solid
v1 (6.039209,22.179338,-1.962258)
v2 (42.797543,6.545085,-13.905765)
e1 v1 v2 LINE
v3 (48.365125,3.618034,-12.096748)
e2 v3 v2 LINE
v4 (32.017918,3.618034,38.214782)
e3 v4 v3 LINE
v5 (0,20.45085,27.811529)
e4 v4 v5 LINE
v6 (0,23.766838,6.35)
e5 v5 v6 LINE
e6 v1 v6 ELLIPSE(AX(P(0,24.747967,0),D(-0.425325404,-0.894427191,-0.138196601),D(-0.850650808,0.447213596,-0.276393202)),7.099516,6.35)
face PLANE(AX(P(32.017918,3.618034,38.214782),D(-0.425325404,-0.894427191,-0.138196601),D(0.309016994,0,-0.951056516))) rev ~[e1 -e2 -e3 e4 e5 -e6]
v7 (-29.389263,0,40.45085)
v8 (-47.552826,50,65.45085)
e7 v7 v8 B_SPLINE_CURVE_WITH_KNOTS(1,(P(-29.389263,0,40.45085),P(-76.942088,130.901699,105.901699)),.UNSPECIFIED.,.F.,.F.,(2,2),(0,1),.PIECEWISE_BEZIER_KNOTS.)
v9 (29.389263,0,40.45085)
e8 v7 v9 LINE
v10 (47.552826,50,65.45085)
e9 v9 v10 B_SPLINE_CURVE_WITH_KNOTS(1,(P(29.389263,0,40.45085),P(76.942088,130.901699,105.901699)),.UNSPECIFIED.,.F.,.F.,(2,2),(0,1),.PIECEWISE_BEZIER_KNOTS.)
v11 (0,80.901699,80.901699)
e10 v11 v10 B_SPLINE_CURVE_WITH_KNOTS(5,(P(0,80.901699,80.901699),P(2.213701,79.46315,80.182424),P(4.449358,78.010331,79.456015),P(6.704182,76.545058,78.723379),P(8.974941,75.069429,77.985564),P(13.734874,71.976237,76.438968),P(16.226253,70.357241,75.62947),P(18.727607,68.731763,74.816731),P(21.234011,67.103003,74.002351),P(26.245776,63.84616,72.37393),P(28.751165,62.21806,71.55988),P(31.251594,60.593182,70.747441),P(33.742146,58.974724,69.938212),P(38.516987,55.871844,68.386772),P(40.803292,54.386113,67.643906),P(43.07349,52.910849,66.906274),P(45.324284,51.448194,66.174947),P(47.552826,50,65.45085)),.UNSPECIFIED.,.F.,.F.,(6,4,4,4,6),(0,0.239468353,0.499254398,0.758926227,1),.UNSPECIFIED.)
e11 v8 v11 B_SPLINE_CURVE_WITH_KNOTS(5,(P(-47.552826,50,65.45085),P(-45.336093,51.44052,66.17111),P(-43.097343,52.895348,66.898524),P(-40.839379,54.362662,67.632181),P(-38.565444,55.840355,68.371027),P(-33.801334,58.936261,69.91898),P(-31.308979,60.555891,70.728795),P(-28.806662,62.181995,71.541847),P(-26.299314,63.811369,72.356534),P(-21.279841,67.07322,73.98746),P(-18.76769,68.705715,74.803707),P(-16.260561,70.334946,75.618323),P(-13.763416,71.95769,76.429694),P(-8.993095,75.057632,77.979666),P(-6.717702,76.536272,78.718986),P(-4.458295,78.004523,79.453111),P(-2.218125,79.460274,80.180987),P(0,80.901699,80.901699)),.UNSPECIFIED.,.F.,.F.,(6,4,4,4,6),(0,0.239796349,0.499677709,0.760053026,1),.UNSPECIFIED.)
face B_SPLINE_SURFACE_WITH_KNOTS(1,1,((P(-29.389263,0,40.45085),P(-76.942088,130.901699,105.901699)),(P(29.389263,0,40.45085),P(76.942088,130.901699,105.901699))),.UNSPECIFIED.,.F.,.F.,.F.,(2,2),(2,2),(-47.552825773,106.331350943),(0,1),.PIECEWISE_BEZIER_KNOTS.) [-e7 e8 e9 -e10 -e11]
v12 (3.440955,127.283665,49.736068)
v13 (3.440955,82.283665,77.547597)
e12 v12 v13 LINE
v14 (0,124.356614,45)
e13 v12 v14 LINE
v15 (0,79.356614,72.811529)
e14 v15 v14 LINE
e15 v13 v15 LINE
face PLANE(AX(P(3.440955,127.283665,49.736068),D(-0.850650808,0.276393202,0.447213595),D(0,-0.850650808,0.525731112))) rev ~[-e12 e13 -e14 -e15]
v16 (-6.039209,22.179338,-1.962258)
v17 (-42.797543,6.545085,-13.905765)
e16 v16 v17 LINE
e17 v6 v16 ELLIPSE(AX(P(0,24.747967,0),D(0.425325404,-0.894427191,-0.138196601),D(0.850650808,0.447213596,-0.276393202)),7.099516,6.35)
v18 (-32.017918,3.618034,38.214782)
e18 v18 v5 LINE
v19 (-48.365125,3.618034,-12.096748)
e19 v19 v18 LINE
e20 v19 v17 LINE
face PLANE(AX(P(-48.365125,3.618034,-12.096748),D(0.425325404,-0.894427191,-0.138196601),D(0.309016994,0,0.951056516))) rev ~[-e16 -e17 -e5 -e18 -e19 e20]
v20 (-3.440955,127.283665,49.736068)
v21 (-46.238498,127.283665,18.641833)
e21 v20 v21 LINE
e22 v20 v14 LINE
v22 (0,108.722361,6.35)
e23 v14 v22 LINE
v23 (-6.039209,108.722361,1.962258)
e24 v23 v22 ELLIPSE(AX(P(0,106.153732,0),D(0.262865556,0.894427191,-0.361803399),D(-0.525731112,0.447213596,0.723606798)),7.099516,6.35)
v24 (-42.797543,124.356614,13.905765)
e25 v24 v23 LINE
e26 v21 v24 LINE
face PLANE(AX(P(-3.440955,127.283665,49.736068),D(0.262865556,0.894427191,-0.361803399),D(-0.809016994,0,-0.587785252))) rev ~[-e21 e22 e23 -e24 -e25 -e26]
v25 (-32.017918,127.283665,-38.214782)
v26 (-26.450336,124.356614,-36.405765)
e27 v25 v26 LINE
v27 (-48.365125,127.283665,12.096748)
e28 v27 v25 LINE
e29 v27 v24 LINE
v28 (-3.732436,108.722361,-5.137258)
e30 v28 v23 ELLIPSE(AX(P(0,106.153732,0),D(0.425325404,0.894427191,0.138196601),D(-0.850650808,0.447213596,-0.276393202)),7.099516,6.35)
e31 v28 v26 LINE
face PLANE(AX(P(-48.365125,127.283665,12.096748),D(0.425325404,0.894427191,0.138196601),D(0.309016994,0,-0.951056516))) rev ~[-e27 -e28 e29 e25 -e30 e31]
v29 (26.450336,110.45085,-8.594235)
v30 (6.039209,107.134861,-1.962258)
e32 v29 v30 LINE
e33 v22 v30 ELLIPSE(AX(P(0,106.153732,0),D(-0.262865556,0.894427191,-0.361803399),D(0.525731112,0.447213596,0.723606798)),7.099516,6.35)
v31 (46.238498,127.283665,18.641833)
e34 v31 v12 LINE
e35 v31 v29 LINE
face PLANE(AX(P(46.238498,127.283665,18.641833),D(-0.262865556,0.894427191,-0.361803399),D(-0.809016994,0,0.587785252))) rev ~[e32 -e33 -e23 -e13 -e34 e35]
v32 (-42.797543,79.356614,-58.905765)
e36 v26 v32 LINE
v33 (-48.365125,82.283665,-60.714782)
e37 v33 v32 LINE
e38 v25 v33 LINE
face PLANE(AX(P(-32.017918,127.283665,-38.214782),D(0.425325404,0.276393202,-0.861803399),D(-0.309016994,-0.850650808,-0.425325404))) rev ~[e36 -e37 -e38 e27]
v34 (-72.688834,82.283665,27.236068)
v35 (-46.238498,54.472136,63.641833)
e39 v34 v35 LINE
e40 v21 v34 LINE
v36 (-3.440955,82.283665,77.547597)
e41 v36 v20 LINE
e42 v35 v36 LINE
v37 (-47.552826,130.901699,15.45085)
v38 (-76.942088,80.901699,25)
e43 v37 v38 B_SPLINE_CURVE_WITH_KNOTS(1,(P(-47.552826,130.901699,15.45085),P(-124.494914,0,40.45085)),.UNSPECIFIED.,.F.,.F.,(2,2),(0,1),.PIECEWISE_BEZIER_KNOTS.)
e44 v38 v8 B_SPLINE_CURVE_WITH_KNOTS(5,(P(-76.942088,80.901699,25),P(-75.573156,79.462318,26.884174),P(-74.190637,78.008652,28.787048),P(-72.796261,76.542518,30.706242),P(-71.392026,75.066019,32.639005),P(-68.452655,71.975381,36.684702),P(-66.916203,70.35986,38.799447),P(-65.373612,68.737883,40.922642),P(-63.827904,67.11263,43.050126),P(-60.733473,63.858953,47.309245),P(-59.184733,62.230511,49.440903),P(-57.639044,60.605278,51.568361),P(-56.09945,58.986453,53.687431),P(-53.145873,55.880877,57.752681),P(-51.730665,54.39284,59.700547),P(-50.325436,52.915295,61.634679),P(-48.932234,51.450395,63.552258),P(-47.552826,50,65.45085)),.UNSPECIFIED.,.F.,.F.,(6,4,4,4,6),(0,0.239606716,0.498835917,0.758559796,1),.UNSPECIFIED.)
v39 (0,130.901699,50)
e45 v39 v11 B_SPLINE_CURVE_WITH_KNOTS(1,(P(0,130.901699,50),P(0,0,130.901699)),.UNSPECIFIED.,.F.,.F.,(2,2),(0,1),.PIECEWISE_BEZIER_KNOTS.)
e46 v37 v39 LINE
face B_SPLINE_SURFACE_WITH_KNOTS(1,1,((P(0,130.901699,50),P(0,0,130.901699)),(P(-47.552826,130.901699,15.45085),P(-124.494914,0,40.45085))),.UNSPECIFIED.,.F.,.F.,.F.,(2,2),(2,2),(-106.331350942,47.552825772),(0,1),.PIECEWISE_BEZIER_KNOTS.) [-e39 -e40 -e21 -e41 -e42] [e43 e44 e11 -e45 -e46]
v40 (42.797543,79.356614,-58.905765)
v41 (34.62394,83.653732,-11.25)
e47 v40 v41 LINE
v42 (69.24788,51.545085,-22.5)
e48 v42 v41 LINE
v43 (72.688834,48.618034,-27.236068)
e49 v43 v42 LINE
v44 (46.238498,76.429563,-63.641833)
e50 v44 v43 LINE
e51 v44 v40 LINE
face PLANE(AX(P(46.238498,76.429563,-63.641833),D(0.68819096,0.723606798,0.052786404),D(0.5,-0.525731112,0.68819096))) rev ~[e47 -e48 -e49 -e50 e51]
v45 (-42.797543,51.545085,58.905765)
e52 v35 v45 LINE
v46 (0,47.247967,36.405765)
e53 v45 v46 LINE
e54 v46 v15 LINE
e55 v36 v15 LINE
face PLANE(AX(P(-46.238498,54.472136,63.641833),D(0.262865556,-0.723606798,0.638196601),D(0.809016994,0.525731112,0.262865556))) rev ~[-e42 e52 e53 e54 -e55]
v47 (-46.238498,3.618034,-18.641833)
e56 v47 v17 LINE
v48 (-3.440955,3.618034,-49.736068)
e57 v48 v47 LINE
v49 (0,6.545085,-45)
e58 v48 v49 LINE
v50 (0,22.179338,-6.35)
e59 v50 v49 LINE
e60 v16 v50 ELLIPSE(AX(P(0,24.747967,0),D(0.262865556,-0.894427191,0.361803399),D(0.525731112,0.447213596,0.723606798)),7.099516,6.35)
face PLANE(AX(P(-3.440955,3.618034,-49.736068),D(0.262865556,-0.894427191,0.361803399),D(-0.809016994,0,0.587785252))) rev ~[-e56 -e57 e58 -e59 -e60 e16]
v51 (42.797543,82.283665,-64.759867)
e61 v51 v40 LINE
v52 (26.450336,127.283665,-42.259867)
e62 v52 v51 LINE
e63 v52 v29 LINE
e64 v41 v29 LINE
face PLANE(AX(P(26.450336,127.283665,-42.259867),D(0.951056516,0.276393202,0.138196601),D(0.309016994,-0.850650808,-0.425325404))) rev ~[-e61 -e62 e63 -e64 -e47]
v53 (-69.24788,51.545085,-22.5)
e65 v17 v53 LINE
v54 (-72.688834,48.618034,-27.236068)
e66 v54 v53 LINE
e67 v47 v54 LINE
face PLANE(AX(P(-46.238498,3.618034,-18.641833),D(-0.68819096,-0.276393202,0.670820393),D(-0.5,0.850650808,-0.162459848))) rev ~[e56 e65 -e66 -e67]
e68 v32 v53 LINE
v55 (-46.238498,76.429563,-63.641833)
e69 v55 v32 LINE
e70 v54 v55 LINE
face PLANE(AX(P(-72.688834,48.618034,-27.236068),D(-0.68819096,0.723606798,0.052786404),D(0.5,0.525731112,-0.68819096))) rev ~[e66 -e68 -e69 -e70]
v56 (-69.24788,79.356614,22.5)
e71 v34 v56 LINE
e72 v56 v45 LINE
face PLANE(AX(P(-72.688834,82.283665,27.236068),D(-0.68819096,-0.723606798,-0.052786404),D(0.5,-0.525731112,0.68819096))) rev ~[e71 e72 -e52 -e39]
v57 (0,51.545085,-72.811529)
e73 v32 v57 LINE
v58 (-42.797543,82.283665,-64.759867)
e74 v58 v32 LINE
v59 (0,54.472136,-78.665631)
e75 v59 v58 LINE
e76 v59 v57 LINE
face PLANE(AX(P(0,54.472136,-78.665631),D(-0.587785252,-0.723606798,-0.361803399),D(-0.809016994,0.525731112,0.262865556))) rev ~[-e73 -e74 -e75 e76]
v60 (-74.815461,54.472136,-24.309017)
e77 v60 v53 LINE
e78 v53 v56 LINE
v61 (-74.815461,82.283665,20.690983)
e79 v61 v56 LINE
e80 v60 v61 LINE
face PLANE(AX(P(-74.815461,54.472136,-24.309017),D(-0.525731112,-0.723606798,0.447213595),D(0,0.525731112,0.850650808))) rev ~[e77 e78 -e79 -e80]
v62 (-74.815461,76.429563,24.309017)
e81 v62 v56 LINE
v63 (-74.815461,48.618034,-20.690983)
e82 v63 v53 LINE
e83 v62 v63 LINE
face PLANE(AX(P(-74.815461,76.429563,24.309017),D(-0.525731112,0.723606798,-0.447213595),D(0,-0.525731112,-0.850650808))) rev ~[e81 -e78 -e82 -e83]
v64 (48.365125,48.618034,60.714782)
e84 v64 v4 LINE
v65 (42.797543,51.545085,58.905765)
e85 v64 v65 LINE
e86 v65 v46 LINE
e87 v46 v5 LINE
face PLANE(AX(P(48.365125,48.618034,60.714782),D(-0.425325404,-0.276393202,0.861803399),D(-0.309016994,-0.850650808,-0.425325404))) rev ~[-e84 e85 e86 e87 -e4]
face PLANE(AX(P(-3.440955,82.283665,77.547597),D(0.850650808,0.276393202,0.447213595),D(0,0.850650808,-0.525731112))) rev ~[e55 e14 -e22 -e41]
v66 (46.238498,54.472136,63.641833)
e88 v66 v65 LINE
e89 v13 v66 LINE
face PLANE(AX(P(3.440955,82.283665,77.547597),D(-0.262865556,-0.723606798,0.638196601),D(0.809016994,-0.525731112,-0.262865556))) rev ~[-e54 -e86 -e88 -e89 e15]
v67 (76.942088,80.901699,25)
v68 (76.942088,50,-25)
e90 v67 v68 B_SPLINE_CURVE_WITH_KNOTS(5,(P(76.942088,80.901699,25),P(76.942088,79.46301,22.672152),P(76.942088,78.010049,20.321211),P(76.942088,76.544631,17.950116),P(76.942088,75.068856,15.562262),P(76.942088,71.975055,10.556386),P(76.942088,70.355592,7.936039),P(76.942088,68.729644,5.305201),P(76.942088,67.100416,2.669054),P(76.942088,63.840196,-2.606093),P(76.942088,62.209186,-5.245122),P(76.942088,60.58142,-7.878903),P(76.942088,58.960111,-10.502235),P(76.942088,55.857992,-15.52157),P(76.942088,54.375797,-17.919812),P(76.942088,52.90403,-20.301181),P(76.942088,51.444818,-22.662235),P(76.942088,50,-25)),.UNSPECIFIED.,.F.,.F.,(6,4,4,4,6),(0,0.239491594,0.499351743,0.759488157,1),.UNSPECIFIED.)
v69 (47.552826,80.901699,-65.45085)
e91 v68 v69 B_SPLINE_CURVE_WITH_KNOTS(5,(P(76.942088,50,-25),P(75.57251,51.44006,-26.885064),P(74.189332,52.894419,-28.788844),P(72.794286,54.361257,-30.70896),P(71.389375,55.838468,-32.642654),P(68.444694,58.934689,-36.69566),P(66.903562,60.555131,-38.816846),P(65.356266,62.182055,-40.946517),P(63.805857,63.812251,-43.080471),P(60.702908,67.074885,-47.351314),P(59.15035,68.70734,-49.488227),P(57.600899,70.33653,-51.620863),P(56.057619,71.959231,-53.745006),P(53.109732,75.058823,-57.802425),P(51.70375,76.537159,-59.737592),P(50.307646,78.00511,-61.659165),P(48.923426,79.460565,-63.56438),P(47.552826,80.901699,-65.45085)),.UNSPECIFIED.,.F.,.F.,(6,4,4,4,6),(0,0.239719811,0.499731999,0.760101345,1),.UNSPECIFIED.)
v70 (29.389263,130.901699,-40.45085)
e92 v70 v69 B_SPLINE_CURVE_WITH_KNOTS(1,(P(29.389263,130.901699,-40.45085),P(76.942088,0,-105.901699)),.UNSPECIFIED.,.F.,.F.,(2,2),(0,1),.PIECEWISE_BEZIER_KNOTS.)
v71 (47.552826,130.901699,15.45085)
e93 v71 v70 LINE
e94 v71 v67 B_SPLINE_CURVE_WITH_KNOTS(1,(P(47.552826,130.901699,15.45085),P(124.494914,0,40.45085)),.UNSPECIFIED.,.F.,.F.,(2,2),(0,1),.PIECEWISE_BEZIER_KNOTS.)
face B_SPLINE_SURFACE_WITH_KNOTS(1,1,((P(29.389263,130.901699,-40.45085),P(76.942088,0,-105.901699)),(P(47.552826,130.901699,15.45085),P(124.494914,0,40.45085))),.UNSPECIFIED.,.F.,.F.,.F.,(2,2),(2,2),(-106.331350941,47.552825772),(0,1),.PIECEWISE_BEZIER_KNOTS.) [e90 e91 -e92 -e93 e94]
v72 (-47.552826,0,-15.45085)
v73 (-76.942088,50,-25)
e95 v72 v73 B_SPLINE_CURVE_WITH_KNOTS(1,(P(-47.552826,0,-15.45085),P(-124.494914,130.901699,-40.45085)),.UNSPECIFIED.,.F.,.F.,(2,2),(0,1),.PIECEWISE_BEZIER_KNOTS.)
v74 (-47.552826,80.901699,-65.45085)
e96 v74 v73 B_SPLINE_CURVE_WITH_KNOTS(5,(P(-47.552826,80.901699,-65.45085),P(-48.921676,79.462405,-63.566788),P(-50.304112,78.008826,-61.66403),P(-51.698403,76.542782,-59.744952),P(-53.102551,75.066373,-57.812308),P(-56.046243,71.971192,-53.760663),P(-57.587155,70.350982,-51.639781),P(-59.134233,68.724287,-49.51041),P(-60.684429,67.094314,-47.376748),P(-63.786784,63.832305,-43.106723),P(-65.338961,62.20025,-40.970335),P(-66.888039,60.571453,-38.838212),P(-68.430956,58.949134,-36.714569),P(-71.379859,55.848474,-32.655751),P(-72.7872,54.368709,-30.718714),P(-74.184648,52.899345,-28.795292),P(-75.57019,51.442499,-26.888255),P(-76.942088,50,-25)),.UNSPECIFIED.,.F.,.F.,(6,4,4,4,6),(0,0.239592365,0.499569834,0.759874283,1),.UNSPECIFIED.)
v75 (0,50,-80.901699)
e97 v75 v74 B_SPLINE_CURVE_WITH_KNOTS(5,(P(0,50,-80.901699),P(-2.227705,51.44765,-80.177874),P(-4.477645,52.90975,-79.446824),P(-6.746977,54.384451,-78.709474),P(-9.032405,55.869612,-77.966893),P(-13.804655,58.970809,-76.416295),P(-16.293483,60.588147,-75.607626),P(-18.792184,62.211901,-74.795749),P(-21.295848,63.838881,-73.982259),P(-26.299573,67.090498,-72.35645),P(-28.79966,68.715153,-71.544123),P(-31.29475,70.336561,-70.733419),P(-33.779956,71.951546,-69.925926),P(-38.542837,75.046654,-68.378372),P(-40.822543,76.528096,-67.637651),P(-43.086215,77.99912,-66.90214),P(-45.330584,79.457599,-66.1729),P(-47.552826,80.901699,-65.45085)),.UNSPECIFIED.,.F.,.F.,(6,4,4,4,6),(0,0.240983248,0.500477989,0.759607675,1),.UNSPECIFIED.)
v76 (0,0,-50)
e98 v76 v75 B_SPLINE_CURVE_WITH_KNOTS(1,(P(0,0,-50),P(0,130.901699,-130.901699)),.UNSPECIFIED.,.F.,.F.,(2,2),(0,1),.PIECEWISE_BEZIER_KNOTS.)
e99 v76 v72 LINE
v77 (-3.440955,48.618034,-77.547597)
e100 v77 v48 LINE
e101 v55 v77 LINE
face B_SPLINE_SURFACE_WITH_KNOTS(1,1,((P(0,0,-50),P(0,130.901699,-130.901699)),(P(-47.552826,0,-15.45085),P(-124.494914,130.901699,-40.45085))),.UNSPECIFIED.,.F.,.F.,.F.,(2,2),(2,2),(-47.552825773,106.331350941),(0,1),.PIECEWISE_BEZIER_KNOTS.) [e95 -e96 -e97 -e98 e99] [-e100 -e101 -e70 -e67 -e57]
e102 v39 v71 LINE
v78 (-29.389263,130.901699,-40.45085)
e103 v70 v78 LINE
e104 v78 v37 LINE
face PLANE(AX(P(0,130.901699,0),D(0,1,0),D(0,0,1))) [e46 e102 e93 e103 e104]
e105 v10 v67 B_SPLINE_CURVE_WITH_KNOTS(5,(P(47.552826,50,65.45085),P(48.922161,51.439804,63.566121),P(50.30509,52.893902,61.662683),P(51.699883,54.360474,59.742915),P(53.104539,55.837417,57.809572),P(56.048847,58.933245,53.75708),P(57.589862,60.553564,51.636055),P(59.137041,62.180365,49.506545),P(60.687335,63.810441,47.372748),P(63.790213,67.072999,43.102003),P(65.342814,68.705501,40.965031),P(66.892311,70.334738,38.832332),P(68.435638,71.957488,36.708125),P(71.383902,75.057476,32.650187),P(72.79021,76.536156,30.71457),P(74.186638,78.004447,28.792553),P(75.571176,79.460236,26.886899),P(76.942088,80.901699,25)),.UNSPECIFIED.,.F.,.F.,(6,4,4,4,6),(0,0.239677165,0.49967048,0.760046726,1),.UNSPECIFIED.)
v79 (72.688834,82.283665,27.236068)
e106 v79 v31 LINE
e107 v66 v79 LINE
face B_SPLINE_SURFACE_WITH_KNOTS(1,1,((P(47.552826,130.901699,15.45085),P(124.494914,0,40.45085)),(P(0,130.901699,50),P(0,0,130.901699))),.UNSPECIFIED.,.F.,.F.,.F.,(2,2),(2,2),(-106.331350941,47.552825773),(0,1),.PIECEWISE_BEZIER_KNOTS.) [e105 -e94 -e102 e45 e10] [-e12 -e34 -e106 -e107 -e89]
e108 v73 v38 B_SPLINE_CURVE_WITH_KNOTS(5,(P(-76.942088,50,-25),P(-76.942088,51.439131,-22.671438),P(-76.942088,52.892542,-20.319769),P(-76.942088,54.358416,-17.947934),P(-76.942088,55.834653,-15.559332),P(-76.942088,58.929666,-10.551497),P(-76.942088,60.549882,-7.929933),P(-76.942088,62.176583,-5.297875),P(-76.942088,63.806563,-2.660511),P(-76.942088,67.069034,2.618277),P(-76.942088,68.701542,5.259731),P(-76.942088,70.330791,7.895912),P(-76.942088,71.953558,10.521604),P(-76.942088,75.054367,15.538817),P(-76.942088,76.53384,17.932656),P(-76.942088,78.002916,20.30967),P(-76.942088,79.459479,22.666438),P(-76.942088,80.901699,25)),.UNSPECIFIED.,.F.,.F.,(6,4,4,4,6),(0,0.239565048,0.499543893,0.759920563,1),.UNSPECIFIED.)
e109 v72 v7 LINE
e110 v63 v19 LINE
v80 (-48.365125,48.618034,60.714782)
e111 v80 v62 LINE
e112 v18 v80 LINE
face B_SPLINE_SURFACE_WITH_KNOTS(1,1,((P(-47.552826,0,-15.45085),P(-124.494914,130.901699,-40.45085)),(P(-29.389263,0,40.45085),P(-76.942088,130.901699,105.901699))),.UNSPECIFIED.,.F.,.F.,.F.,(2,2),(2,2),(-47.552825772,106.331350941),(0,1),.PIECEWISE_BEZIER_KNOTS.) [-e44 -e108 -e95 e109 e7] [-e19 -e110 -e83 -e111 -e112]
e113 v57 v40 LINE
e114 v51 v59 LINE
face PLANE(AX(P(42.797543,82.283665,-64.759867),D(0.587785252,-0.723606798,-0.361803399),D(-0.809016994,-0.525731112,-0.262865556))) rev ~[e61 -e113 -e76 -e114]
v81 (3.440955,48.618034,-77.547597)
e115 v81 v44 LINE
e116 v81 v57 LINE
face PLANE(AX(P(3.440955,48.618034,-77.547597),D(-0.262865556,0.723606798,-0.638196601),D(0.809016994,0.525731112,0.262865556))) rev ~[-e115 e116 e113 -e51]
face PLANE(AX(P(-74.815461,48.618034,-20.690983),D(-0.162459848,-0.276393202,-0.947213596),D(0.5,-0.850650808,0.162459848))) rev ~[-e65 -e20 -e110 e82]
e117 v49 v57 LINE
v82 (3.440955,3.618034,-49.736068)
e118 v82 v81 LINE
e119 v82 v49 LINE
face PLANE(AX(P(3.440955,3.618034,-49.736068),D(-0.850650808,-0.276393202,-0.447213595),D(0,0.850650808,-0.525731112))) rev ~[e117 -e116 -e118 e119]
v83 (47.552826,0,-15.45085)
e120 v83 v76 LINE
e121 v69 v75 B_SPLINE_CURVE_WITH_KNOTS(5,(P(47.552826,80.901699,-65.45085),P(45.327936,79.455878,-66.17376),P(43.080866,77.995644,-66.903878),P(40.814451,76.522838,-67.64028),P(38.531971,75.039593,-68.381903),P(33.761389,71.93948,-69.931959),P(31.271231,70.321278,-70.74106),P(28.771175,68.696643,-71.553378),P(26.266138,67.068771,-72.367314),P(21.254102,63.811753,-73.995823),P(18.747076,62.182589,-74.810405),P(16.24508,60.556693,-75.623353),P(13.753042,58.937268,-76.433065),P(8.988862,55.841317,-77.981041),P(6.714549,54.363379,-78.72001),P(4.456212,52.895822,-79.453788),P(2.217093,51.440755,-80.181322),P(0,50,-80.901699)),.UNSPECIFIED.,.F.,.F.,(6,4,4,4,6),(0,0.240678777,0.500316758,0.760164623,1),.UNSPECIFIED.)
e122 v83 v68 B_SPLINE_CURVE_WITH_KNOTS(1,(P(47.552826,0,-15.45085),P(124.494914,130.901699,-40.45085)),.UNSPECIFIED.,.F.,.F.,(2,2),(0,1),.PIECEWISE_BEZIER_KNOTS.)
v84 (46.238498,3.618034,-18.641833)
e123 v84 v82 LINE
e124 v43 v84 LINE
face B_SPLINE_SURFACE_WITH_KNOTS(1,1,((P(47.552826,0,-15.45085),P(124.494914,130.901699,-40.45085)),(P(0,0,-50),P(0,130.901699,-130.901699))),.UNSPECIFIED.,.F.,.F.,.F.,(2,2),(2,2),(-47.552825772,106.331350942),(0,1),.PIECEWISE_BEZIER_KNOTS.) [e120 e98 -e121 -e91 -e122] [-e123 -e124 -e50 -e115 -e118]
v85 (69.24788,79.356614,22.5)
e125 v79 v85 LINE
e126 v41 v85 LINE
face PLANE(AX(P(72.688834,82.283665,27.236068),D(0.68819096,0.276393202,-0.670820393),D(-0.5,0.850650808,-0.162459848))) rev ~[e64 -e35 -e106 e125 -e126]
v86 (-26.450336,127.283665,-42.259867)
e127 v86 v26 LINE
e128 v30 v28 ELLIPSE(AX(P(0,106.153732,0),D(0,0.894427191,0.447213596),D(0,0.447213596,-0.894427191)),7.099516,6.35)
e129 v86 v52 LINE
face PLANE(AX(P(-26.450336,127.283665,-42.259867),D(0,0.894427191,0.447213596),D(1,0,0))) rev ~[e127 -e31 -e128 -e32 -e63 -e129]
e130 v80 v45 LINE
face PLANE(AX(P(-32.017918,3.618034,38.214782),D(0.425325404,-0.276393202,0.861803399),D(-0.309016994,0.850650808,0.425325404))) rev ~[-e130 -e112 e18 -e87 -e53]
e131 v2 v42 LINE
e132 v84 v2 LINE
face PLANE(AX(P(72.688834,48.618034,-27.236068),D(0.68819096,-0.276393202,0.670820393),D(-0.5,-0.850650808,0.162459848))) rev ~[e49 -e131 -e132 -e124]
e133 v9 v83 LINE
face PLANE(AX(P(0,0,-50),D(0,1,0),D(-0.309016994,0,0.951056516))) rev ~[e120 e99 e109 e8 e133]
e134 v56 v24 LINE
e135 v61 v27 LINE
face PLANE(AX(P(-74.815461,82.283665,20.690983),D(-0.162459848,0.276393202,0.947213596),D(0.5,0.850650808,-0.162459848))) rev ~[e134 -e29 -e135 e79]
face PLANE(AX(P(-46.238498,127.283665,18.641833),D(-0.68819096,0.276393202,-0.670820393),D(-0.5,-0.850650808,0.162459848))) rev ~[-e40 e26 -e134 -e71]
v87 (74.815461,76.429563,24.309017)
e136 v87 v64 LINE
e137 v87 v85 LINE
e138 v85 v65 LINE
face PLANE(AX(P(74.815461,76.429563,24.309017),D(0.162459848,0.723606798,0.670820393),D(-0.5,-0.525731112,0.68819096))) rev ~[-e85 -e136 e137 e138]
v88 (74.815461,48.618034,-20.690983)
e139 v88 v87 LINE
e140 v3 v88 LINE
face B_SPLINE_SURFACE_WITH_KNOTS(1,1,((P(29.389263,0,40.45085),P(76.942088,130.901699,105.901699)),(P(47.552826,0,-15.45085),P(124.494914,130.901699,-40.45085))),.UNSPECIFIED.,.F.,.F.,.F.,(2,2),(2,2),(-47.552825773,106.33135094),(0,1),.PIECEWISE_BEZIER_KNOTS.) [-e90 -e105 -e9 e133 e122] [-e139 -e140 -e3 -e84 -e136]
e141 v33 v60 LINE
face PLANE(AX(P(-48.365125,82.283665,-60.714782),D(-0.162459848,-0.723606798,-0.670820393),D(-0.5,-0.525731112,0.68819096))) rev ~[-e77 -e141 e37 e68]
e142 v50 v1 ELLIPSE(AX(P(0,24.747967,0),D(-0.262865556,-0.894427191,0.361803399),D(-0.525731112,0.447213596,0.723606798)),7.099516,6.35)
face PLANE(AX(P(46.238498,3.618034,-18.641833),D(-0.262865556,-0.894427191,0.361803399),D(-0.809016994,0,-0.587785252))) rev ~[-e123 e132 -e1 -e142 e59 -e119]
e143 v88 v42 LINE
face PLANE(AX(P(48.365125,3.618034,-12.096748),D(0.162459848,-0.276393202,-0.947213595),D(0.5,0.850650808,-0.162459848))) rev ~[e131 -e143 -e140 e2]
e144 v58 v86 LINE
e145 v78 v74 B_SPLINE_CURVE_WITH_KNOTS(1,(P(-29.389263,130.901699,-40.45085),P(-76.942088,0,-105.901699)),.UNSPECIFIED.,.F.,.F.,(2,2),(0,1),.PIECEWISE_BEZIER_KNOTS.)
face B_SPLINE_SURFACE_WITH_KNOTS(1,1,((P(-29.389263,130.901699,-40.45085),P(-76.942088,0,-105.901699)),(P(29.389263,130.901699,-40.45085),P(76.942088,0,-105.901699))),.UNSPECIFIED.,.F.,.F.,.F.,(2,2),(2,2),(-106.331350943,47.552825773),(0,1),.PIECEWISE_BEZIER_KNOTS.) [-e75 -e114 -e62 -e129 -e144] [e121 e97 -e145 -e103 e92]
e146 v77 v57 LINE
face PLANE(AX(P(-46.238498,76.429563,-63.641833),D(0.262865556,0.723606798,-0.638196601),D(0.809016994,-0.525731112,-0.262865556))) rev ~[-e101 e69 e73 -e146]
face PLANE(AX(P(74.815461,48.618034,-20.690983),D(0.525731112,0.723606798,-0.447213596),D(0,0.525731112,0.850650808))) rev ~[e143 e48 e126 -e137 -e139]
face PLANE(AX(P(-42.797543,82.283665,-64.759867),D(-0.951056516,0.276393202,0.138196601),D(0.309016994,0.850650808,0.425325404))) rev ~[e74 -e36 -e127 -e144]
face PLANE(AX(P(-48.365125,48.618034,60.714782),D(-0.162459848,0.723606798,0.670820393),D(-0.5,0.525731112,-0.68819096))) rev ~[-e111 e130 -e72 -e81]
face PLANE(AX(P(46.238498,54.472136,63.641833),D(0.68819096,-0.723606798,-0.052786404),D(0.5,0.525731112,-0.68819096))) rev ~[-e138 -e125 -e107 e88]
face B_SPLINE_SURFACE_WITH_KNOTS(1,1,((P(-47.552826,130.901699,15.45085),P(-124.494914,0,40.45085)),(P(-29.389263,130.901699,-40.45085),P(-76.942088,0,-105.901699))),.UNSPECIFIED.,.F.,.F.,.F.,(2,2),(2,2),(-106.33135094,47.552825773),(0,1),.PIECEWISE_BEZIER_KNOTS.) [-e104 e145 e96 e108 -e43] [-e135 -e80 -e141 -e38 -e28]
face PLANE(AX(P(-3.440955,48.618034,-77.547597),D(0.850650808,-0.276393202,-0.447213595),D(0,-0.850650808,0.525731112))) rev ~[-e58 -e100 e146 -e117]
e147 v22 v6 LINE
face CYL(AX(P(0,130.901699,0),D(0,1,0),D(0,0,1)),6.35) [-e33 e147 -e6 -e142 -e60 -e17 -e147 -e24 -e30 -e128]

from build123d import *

# Parameters (mm, degrees)
CREATION_EXTRUDE_DEPTH = 130.901699304
CREATION_EXTRUDE_TAPER = -26.56505118
SKETCH2_OUTSIDE_W      = 455.432
SKETCH2_OUTSIDE_H      = 443.246
CREATION_CUT_DEPTH     = 130.901699304
CREATION_CUT_TAPER     = 26.56505118
CUT_EXTRUDE_B_DEPTH    = 50.8
C_INV_DEPTH            = 50.8
CUT_EXTRUDE_D_DEPTH    = 50.8
D_INV_DEPTH            = 50.8
CUT_EXTRUDE_E_DEPTH    = 50.8
E_INV_DEPTH            = 50.8
CUT_EXTRUDE_F_DEPTH    = 50.8
F_INV_DEPTH            = 50.8
SKETCH17_R             = 6.35
BOSS_EXTRUDE1_DEPTH    = 127


with BuildPart() as part:
    # Sketch1 → creation_extrude (new body)
    with BuildSketch(Plane(origin=(0, 0, 0), x_dir=(1, 0, 0), z_dir=(0, 1, 0))):
        Polygon((0, 49.999999949), (-47.552825766, 15.450849703), (-29.389262585, -40.450849677), (29.389262585, -40.450849677), (47.552825766, 15.450849703), align=None)
    extrude(amount=CREATION_EXTRUDE_DEPTH, taper=CREATION_EXTRUDE_TAPER)

    # Sketch2 outside → creation_cut (cut)
    with BuildSketch(Plane(origin=(0, 130.901699304, 0), x_dir=(1, 0, 0), z_dir=(0, 1, 0))):
        with Locations((0, 12.5)):
            Rectangle(SKETCH2_OUTSIDE_W, SKETCH2_OUTSIDE_H)
        Polygon((0, -49.999999949), (47.552825766, -15.450849703), (29.389262585, 40.450849677), (-29.389262585, 40.450849677), (-47.552825766, -15.450849703), align=None, mode=Mode.SUBTRACT)
    extrude(amount=-CREATION_CUT_DEPTH, taper=CREATION_CUT_TAPER, mode=Mode.SUBTRACT)

    # Sketch5 → Cut-Extrude B (cut)
    with BuildSketch(Plane(origin=(0, 42.360679738, -84.721359466), x_dir=(-1, 0, 0), z_dir=(-9.08060963965006e-15, 0.4472135955455734, -0.8944271909771081))):
        Polygon((-42.797543189, 44.635254864), (1e-09, 13.541019643), (42.79754319, 44.635254866), (26.450336325, 94.946784308), (-26.450336327, 94.946784307), align=None)
    extrude(amount=-CUT_EXTRUDE_B_DEPTH, mode=Mode.SUBTRACT)

    # Sketch8 → C_inv (cut)
    with BuildSketch(Plane(origin=(-30.776835339, -16.180339872, 9.999999989), x_dir=(0.2446443083020028, 0.12861712429362696, 0.9610446387935747), z_dir=(-0.8506508083303469, -0.4472135955455736, 0.27639320224297786))):
        Polygon((-31.935023341, 77.848060657), (-22.992425992, 25.708717357), (29.358450763, 18.101689683), (52.77047459, 65.539631327), (14.889024305, 102.464919293), align=None)
    extrude(amount=-C_INV_DEPTH, mode=Mode.SUBTRACT)

    # Sketch9 → Cut-Extrude D (cut)
    with BuildSketch(Plane(origin=(49.797965648, 42.360679738, 68.541019594), x_dir=(0.8506508083603209, -0.27639320226847824, -0.44721359547279954), z_dir=(0.5257311121057348, 0.44721359554557366, 0.7236067977315217))):
        Polygon((-4.184405192, 98.473361345), (-54.495934634, 82.126154482), (-54.495934634, 29.22548183), (-4.184405192, 12.878274966), (26.90983003, 55.675818156), align=None)
    extrude(amount=-CUT_EXTRUDE_D_DEPTH, mode=Mode.SUBTRACT)

    # Sketch10 → D_inv (cut)
    with BuildSketch(Plane(origin=(-19.021130306, -16.180339872, -26.180339859), x_dir=(-0.8506508083603233, 0.27639320226847536, 0.44721359547279665), z_dir=(-0.5257311121057309, -0.44721359554557344, -0.7236067977315247))):
        Polygon((31.995934659, 98.473361351), (-18.315594783, 82.126154488), (-18.315594783, 29.225481836), (31.995934659, 12.878274972), (63.090169881, 55.675818162), align=None)
    extrude(amount=-D_INV_DEPTH, mode=Mode.SUBTRACT)

    # Sketch11 → Cut-Extrude E (cut)
    with BuildSketch(Plane(origin=(-49.797965648, 42.360679738, 68.541019594), x_dir=(0.8506508083603298, 0.2763932022684677, 0.447213595472789), z_dir=(-0.5257311121057203, 0.44721359554557355, 0.7236067977315324))):
        Polygon((4.184405192, 98.473361345), (-26.90983003, 55.675818156), (4.184405192, 12.878274966), (54.495934634, 29.22548183), (54.495934634, 82.126154482), align=None)
    extrude(amount=-CUT_EXTRUDE_E_DEPTH, mode=Mode.SUBTRACT)

    # Sketch12 → E_inv (cut)
    with BuildSketch(Plane(origin=(19.021130306, -16.180339872, -26.180339859), x_dir=(-0.8506508083603274, -0.27639320226847064, -0.44721359547279194), z_dir=(0.5257311121057243, -0.44721359554557355, -0.7236067977315294))):
        Polygon((-31.99593466, 98.473361351), (-63.090169881, 55.67581816), (-31.995934658, 12.878274972), (18.315594784, 29.225481837), (18.315594782, 82.126154489), align=None)
    extrude(amount=-E_INV_DEPTH, mode=Mode.SUBTRACT)

    # Sketch13 → Cut-Extrude F (cut)
    with BuildSketch(Plane(origin=(-80.574800989, 42.360679738, -26.180339862), x_dir=(-0.24464430830199108, 0.12861712429362016, 0.9610446387935785), z_dir=(-0.8506508083303513, 0.4472135955455735, -0.2763932022429644))):
        Polygon((-12.522250637, 97.763517637), (-35.934274461, 50.325575991), (1.947175826, 13.400288027), (48.771223471, 38.017146666), (39.828626119, 90.156489966), align=None)
    extrude(amount=-CUT_EXTRUDE_F_DEPTH, mode=Mode.SUBTRACT)

    # Sketch14 → F_inv (cut)
    with BuildSketch(Plane(origin=(30.776835339, -16.180339872, 9.999999989), x_dir=(0.2446443083019939, -0.12861712429362177, -0.9610446387935776), z_dir=(0.8506508083303502, -0.4472135955455736, 0.2763932022429676))):
        Polygon((-29.358450768, 18.101689686), (22.992425988, 25.708717353), (31.935023344, 77.848060652), (-14.889024299, 102.464919294), (-52.770474589, 65.539631333), align=None)
    extrude(amount=-F_INV_DEPTH, mode=Mode.SUBTRACT)


with BuildPart() as body_2:
    # of the pieces the cut leaves, the one that is kept (f_inv_keep)
    add(part.part.solids().sort_by_distance((0, 0, -49.999999949))[0])

    # Sketch17 → Boss-Extrude1 (add)
    with BuildSketch(Plane(origin=(0, 130.901699304, 0), x_dir=(1, 0, 0), z_dir=(0, 1, 0))):
        with Locations(Location((0, 0, 0), (0, 0, 270))):
            Circle(SKETCH17_R)
    extrude(amount=-BOSS_EXTRUDE1_DEPTH)


solid = body_2.part
